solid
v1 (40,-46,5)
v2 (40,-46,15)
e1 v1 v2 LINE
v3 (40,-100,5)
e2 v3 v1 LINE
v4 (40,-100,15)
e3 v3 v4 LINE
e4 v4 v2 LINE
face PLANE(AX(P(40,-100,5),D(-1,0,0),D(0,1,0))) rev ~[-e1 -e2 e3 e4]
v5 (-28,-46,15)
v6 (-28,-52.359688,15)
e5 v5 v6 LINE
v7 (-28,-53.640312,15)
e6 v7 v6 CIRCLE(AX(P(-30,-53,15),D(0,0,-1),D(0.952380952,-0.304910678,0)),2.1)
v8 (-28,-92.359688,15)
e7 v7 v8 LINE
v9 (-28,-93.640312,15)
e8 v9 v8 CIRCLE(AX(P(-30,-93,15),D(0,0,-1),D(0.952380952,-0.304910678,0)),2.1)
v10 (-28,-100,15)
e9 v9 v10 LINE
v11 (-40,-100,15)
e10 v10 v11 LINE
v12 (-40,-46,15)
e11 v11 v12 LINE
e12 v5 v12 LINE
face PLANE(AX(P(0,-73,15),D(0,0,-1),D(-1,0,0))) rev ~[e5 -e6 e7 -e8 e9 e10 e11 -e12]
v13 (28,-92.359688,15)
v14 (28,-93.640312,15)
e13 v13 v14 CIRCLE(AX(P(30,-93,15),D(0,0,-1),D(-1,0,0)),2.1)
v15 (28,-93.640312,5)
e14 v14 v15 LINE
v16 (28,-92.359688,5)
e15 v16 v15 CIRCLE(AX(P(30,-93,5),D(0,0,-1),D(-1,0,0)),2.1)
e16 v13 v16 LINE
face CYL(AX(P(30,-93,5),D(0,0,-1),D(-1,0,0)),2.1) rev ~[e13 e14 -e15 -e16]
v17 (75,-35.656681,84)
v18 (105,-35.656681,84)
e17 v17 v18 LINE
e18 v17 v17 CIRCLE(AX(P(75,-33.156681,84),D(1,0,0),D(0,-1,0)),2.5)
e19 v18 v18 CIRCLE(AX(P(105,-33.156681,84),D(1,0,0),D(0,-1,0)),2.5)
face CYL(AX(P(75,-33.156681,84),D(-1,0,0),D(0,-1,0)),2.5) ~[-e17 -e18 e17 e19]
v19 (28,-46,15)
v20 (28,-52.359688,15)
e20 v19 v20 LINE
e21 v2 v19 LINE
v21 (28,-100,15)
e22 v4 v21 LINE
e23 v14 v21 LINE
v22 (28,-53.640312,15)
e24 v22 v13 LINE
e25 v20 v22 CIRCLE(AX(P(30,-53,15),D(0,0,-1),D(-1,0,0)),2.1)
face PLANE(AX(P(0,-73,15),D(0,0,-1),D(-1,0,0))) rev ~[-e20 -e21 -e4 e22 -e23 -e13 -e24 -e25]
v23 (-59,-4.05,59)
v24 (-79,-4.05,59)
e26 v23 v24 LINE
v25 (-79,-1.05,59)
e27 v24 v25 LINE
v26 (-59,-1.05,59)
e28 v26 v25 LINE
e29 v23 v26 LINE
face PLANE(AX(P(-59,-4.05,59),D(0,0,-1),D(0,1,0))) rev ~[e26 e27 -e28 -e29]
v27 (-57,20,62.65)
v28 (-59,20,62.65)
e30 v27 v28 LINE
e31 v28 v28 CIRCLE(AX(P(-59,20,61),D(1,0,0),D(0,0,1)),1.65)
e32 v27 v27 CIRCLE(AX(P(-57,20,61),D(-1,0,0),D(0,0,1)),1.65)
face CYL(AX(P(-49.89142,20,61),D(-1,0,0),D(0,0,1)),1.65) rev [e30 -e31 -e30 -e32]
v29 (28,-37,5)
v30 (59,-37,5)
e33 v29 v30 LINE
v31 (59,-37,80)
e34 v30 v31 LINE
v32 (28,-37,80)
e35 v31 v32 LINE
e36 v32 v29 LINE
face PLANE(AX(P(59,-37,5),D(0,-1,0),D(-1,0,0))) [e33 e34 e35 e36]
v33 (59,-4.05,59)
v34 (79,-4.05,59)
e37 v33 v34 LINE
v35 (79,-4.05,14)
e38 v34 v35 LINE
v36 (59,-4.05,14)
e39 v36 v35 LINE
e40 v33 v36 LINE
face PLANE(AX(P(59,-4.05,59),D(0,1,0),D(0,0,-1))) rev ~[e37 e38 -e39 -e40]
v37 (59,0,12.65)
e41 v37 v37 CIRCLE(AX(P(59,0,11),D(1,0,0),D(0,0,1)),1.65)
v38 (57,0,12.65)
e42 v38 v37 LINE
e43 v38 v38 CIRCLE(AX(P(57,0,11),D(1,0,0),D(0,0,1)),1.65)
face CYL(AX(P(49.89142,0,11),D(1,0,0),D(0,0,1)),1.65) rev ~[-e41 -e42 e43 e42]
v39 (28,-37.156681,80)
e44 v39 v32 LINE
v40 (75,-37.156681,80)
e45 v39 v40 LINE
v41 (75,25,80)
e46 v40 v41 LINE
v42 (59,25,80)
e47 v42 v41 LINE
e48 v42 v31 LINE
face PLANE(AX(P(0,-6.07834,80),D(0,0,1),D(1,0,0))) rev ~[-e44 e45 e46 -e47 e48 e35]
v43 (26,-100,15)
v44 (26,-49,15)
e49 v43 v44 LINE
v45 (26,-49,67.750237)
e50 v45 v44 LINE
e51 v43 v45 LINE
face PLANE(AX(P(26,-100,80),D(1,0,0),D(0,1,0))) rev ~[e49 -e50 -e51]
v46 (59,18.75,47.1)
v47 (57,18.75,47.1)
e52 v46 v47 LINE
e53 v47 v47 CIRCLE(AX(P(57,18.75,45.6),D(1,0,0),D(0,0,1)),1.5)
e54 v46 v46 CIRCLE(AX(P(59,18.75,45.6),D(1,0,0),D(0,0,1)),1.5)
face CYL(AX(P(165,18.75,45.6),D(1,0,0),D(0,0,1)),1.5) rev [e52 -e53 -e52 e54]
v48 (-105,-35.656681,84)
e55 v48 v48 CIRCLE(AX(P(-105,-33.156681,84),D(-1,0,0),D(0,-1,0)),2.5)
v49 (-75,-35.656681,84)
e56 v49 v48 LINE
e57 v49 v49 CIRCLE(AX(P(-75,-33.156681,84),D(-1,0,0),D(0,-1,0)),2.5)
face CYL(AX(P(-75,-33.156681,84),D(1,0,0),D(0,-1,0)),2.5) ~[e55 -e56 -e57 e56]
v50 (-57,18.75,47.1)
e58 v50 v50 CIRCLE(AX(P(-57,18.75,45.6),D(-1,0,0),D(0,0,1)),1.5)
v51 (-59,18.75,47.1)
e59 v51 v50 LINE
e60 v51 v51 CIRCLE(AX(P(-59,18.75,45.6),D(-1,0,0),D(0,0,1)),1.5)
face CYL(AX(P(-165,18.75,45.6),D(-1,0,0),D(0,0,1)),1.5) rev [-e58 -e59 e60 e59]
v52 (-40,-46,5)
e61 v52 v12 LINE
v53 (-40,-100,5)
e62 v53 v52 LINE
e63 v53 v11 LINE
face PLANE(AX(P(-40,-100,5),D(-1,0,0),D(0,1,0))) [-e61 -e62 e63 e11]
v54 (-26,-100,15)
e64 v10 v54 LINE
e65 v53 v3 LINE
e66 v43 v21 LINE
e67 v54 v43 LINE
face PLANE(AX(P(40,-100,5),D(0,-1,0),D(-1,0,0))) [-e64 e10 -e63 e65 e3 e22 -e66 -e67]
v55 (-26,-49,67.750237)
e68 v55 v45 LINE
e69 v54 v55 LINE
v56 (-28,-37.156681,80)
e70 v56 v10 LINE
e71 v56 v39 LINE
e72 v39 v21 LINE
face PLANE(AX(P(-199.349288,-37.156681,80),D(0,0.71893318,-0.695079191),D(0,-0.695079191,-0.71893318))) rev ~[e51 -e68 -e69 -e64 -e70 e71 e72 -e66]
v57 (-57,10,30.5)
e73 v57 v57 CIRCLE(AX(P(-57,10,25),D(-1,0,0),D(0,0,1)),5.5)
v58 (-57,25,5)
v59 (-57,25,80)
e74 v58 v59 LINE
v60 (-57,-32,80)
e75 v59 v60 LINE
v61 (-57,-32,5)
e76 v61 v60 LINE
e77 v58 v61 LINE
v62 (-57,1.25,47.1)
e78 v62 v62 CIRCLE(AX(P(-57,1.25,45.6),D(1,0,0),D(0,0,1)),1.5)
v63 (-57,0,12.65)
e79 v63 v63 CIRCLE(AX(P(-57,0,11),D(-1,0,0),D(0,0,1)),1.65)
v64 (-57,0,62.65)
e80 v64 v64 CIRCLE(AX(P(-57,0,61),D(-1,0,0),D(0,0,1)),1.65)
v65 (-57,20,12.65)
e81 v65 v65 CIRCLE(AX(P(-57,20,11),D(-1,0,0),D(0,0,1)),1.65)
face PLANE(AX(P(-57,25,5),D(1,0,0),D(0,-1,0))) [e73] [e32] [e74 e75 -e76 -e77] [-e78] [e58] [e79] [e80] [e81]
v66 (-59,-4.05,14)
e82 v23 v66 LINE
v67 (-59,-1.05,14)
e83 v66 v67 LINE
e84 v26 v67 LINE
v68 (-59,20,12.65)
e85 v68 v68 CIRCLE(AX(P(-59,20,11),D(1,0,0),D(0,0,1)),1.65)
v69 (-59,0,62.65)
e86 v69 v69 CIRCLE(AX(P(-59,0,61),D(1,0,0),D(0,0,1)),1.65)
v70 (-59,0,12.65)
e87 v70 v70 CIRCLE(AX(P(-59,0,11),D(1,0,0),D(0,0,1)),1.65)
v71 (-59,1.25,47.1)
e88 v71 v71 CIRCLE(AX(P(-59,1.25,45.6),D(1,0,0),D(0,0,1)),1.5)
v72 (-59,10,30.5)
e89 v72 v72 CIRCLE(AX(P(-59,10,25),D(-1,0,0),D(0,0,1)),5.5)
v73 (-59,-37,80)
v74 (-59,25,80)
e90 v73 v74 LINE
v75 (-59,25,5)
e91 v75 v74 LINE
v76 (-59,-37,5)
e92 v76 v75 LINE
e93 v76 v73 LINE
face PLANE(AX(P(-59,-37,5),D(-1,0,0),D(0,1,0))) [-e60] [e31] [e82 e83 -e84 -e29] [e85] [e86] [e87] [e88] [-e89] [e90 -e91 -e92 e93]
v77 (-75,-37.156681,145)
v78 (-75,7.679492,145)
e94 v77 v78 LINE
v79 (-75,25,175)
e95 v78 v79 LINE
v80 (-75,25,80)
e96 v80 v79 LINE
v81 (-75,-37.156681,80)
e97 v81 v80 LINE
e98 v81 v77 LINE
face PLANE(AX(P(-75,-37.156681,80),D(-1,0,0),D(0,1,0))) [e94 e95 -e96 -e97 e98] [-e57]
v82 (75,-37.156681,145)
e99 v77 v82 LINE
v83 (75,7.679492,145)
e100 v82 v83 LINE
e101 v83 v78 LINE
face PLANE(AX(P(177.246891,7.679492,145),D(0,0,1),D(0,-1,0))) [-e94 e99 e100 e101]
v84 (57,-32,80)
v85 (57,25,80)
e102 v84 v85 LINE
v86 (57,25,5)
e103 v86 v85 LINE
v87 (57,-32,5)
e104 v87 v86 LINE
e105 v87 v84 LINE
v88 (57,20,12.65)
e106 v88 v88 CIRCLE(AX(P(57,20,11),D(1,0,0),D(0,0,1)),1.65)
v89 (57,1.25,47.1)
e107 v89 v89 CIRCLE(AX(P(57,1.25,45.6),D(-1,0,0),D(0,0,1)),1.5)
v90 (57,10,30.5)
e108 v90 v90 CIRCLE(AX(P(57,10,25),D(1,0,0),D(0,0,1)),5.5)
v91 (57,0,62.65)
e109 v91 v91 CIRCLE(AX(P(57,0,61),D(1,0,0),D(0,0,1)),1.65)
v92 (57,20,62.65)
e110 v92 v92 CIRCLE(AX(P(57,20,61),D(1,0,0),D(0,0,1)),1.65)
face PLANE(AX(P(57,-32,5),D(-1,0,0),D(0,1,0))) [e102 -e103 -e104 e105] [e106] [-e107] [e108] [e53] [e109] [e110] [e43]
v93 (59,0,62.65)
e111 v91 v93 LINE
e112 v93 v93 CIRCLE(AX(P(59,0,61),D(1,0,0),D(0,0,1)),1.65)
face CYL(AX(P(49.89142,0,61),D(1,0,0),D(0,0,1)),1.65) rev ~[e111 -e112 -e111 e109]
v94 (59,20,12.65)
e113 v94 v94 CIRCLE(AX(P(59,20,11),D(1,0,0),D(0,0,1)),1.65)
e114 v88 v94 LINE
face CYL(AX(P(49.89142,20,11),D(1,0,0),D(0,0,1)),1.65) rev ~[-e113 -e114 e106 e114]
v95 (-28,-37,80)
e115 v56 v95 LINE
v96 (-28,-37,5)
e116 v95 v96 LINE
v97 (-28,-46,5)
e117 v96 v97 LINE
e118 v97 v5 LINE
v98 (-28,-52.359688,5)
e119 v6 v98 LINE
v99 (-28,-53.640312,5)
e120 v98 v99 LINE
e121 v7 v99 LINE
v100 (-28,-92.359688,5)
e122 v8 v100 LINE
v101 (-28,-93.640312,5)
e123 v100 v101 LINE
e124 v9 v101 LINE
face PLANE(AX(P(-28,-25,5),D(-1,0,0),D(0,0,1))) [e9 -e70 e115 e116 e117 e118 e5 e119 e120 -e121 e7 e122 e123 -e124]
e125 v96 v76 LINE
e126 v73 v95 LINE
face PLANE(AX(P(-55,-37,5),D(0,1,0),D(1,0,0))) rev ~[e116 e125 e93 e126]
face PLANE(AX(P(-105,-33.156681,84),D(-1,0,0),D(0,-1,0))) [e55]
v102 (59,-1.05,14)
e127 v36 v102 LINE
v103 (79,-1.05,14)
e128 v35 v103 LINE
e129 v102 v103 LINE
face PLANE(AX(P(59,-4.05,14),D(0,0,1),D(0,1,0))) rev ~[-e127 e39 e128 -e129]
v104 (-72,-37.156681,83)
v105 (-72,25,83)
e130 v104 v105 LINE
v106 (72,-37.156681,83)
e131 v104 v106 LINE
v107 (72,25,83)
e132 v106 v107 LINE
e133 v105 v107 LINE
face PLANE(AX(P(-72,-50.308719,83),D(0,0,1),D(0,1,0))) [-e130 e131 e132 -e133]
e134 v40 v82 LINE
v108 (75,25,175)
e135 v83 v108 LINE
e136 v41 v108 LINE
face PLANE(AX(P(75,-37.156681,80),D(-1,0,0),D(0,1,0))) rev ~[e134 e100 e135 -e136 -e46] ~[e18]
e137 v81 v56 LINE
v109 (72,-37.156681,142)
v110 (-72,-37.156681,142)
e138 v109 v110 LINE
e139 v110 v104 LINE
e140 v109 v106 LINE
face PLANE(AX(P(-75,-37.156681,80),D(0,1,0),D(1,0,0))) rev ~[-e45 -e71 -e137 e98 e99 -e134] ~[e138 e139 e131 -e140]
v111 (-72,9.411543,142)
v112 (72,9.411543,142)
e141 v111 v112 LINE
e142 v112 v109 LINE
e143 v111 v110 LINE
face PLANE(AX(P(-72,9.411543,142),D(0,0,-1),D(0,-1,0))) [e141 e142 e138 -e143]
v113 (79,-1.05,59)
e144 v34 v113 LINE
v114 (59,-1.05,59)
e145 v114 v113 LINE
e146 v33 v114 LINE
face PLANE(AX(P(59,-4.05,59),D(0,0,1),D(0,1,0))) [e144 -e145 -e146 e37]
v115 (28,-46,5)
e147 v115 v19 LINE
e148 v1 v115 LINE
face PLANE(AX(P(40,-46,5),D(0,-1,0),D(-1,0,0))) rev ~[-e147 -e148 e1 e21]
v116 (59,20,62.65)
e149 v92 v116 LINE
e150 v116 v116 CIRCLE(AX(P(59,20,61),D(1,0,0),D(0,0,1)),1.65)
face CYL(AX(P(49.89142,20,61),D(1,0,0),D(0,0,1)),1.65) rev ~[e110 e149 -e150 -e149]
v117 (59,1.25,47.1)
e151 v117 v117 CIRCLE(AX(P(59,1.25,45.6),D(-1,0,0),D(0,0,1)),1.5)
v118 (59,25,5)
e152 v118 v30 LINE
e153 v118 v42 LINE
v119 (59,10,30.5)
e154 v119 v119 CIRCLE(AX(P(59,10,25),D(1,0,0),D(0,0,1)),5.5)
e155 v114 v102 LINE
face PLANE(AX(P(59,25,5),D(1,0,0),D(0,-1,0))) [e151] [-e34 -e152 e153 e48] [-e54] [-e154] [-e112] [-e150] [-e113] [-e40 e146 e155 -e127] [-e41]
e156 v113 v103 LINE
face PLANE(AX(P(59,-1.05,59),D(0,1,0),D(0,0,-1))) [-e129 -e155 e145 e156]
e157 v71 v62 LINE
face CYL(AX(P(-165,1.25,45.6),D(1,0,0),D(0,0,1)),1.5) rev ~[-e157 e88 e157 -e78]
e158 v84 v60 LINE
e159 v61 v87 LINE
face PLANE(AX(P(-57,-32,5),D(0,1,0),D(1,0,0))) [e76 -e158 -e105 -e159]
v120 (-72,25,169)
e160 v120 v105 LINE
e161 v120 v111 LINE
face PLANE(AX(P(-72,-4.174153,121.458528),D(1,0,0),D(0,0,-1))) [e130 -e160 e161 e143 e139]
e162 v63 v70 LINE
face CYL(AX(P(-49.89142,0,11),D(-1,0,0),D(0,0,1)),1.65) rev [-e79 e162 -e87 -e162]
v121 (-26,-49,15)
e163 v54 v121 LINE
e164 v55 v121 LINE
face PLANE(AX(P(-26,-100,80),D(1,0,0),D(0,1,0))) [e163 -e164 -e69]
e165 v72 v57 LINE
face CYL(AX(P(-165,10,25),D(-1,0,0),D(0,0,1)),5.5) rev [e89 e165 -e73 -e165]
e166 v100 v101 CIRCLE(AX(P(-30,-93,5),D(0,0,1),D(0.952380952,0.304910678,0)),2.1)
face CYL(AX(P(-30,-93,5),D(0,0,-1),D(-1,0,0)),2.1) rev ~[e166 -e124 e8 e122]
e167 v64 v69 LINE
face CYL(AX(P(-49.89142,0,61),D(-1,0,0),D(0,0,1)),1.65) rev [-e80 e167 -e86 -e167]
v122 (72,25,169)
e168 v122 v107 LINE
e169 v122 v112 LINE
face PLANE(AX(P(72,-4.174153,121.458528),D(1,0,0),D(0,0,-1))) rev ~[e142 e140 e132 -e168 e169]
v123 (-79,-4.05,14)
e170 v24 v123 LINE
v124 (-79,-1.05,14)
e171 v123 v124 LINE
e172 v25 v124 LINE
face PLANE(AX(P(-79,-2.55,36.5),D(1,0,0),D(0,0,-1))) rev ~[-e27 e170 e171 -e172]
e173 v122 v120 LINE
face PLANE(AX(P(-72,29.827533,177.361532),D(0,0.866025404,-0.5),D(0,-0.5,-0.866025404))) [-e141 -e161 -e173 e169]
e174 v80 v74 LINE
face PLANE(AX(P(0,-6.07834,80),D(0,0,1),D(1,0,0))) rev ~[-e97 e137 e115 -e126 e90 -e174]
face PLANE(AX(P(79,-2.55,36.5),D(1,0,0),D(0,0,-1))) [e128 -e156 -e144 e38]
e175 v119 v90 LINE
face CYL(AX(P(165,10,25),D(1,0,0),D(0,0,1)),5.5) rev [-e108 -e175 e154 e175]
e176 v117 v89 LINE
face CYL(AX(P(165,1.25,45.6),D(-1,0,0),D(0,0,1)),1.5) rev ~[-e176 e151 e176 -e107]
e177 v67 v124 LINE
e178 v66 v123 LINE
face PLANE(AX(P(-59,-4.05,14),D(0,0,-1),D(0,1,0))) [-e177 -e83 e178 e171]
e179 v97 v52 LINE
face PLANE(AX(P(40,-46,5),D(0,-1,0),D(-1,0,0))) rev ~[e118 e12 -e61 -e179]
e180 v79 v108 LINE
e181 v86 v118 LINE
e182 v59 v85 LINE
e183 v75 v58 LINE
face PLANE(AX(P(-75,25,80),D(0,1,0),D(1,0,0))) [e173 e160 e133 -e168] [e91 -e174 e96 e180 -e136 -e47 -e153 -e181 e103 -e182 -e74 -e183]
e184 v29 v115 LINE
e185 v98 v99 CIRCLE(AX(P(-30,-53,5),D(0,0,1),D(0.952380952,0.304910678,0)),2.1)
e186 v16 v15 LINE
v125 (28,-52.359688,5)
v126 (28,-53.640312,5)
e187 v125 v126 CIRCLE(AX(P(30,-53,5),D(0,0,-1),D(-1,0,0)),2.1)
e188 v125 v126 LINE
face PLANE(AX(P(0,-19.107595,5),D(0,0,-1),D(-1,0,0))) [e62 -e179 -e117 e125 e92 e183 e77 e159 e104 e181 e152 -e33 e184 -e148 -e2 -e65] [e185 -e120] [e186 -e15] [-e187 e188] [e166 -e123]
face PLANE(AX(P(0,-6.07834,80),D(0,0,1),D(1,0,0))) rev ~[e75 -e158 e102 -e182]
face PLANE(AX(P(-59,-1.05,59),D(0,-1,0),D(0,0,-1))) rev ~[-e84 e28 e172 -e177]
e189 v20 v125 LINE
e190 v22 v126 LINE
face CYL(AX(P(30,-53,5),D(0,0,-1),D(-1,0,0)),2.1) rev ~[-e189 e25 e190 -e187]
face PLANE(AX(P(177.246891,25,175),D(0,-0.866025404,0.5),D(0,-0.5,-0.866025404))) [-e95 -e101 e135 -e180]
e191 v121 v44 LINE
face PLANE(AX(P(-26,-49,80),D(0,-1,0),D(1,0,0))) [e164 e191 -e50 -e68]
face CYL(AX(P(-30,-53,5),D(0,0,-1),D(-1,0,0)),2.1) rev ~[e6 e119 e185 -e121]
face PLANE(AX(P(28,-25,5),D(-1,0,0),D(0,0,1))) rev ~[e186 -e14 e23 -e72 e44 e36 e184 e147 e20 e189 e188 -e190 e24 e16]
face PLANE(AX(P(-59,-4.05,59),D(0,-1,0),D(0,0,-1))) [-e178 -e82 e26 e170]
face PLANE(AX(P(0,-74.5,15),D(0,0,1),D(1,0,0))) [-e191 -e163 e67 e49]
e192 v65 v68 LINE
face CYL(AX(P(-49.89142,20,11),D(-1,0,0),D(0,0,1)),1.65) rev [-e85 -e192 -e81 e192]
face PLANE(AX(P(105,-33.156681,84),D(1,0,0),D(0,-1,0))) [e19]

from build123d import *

# Parameters (mm, degrees)
SKETCH_1_W                   = 80
SKETCH_1_H                   = 50
EXTRUDE_1_DEPTH              = 5
HOLE_WIZARD_M5_1_D           = 4.2
HOLE_WIZARD_M5_1_DEPTH       = 11.1381927
HOLE_WIZARD_M5_1_TIP         = 1.2618073
EXTRUDE_START                = -12
SKETCH_5_W                   = 80
SKETCH_5_H                   = 50
EXTRUDE_2_DEPTH              = 2
HOLE_WIZARD_M4_1_AT_2_COUNT  = 2
HOLE_WIZARD_M4_1_AT_2_PITCH  = 20
HOLE_WIZARD_M4_1_AT_3_COUNT  = 2
HOLE_WIZARD_M4_1_AT_3_PITCH  = 50
HOLE_WIZARD_M4_1_AT_4_COUNT  = 2
HOLE_WIZARD_M4_1_AT_4_PITCH  = 53.851648071
SKETCH_11_R                  = 5.5
SKETCH_11_R_2                = 1.5
CUT_EXTRUDE_1_DEPTH          = 107.681769764
CUT_EXTRUDE_2_DEPTH          = 103.46950766
CUT_EXTRUDE_2_DEPTH_BACK     = 103.46950766
SKETCH_13_3_W                = 52
SKETCH_13_3_H                = 75
SKETCH_13_3_W_2              = 2
EXTRUDE_4_DEPTH              = 75
SKETCH_16_W                  = 80
SKETCH_16_H                  = 54
SKETCH_16_R                  = 2.1
EXTRUDE_5_DEPTH              = 10
SKETCH_17_W                  = 52
SKETCH_17_H                  = 51
CUT_EXTRUDE_4_DEPTH          = 65
SKETCH_18_W                  = 26
SKETCH_18_H                  = 5
SKETCH_18_W_2                = 2
EXTRUDE_6_DEPTH              = 75
SKETCH_19_R                  = 5.5
SKETCH_19_R_2                = 1.5
CUT_EXTRUDE_5_DEPTH          = 163.480768093
CUT_EXTRUDE_6_DEPTH          = 135.629120178
CUT_EXTRUDE_6_DEPTH_BACK     = 135.629120178
EXTRUDE_7_DEPTH              = 75
CUT_EXTRUDE_7_DEPTH          = 137.565002837
CUT_EXTRUDE_7_DEPTH_BACK     = 137.565002837
SKETCH_24_W                  = 102.975778391
SKETCH_24_H                  = 48.456033791
EXTRUDE_8_DEPTH              = 75
CUT_EXTRUDE_8_DEPTH          = 137.565002837
CUT_EXTRUDE_8_DEPTH_BACK     = 137.565002837
EXTRUDE_9_DEPTH              = 75
MIRROR_20_COPY_1_SKETCH_R    = 5.5
MIRROR_20_COPY_1_SKETCH_R_2  = 1.5
MIRROR_20_COPY_1_DEPTH       = 163.480768093
MIRROR_20_COPY_2_SKETCH_R    = 5.5
MIRROR_20_COPY_2_SKETCH_R_2  = 1.5
MIRROR_20_COPY_2_DEPTH       = 163.480768093
MIRROR_22_COPY_1_SKETCH_R    = 5.5
MIRROR_22_COPY_1_SKETCH_R_2  = 1.5
MIRROR_22_COPY_1_DEPTH       = 163.480768093
MIRROR_22_COPY_2_SKETCH_R    = 5.5
MIRROR_22_COPY_2_SKETCH_R_2  = 1.5
MIRROR_22_COPY_2_DEPTH       = 163.480768093
MIRROR_22_COPY_15_SKETCH_R   = 5.5
MIRROR_22_COPY_15_SKETCH_R_2 = 1.5
MIRROR_22_COPY_15_DEPTH      = 163.480768093
SKETCH_28_W                  = 112
SKETCH_28_H                  = 59.65855823
CUT_EXTRUDE_9_DEPTH          = 100
SKETCH_29_W                  = 150
SKETCH_29_H                  = 62.156680644
EXTRUDE_10_DEPTH             = 95
CUT_EXTRUDE_10_DEPTH         = 252.246890528
CUT_EXTRUDE_10_DEPTH_BACK    = 252.246890528
CUT_EXTRUDE_START            = -3
CUT_EXTRUDE_11_DEPTH         = 144
CUT_EXTRUDE_12_DEPTH         = 227.349287607
CUT_EXTRUDE_12_DEPTH_BACK    = 227.349287607
SKETCH_34_W                  = 45
SKETCH_34_H                  = 3
EXTRUDE_11_DEPTH             = 20
EXTRUDE_START_2              = -118
SKETCH_34_3_W                = 45
SKETCH_34_3_H                = 3
EXTRUDE_12_DEPTH             = 20
SKETCH_35_R                  = 2.5
EXTRUDE_13_DEPTH             = 30
SKETCH_36_R                  = 2.5
EXTRUDE_14_DEPTH             = 30


with BuildPart() as part:
    # 草图1 → 凸台-拉伸1 (new body)
    with BuildSketch(Plane.XY):
        Rectangle(SKETCH_1_W, SKETCH_1_H)
    extrude(amount=EXTRUDE_1_DEPTH)

    # M5 螺纹孔1
    with Locations(Plane.XY.offset(5)):
        with Locations((-30, 20), (-30, -20), (30, -20), (30, 20)):
            Hole(HOLE_WIZARD_M5_1_D / 2, depth=HOLE_WIZARD_M5_1_DEPTH)
            with Locations((0, 0, -(HOLE_WIZARD_M5_1_DEPTH + HOLE_WIZARD_M5_1_TIP / 2))):  # 118° drill point
                Cone(0, HOLE_WIZARD_M5_1_D / 2, HOLE_WIZARD_M5_1_TIP, mode=Mode.SUBTRACT)

    # 草图5 → 凸台-拉伸2 (add)
    with BuildSketch(Plane(origin=(40, 0, 0), x_dir=(0, 0, -1), z_dir=(1, 0, 0)).offset(EXTRUDE_START)):
        with Locations((-40, 0)):
            Rectangle(SKETCH_5_W, SKETCH_5_H)
    extrude_2 = extrude(amount=-EXTRUDE_2_DEPTH)

    # 草图8 → M4 螺纹孔1 (revolve, cut)
    with BuildSketch(Plane(origin=(26, 20, 11), x_dir=(0, 0, 1), z_dir=(0, 1, 0))):
        Polygon((0, 0), (0, 10.1), (1.65, 9.108579979), (1.65, 0), align=None)
    hole_wizard_m4_1 = revolve(axis=Axis((19.65, 20, 11), (1, 0, 0)), mode=Mode.SUBTRACT)

    # M4 螺纹孔1 at 2: M4 螺纹孔1 ×2
    with Locations(*[(0, -i * HOLE_WIZARD_M4_1_AT_2_PITCH, 0) for i in range(1, HOLE_WIZARD_M4_1_AT_2_COUNT)]):
        add(hole_wizard_m4_1, mode=Mode.SUBTRACT)

    # M4 螺纹孔1 at 3: M4 螺纹孔1 ×2
    with Locations(*[(0, 0, i * HOLE_WIZARD_M4_1_AT_3_PITCH) for i in range(1, HOLE_WIZARD_M4_1_AT_3_COUNT)]):
        add(hole_wizard_m4_1, mode=Mode.SUBTRACT)

    # M4 螺纹孔1 at 4: M4 螺纹孔1 ×2
    with Locations(*[Vector(0, -0.3713906763541037, 0.9284766908852594) * (i * HOLE_WIZARD_M4_1_AT_4_PITCH) for i in range(1, HOLE_WIZARD_M4_1_AT_4_COUNT)]):
        add(hole_wizard_m4_1, mode=Mode.SUBTRACT)

    # 草图11 → 切除-拉伸1 (cut, through all)
    with BuildSketch(Plane.ZY.offset(-26)):
        with Locations((25, 10)):
            Circle(SKETCH_11_R)
        with Locations((45.6, 18.75)):
            Circle(SKETCH_11_R_2)
        with Locations((45.6, 1.25)):
            Circle(SKETCH_11_R_2)
    cut_extrude_1 = extrude(amount=-CUT_EXTRUDE_1_DEPTH, mode=Mode.SUBTRACT)

    # 镜向1: 凸台-拉伸2 across plane
    add(extrude_2.mirror(Plane(origin=(0, 0, 0), x_dir=(0, 0, 1), z_dir=(1, 0, 0))))

    # 镜向2: M4 螺纹孔1, 切除-拉伸1 across plane
    add(hole_wizard_m4_1.mirror(Plane(origin=(0, 0, 0), x_dir=(0, 0, 1), z_dir=(1, 0, 0))), mode=Mode.SUBTRACT)
    add(cut_extrude_1.mirror(Plane(origin=(0, 0, 0), x_dir=(0, 0, 1), z_dir=(1, 0, 0))), mode=Mode.SUBTRACT)

    # 镜向2 copy 1 sketch → 镜向2 copy 1 (revolve, cut)
    with BuildSketch(Plane(origin=(-26, 0, 11), x_dir=(0, 0, 1), z_dir=(0, 1, 0))):
        Polygon((0, 0), (0, -10.1), (1.65, -9.108579979), (1.65, 0), align=None)
    revolve(axis=Axis((-19.65, 0, 11), (1, 0, 0)), mode=Mode.SUBTRACT)

    # 镜向2 copy 2 sketch → 镜向2 copy 2 (revolve, cut)
    with BuildSketch(Plane(origin=(-26, 20, 61), x_dir=(0, 0, 1), z_dir=(0, 1, 0))):
        Polygon((0, 0), (0, -10.1), (1.65, -9.108579979), (1.65, 0), align=None)
    revolve(axis=Axis((-19.65, 20, 61), (1, 0, 0)), mode=Mode.SUBTRACT)

    # 镜向2 copy 3 sketch → 镜向2 copy 3 (revolve, cut)
    with BuildSketch(Plane(origin=(-26, 0, 61), x_dir=(0, 0, 1), z_dir=(0, 1, 0))):
        Polygon((0, 0), (0, -10.1), (1.65, -9.108579979), (1.65, 0), align=None)
    revolve(axis=Axis((-19.65, 0, 61), (1, 0, 0)), mode=Mode.SUBTRACT)

    # 草图13 → 切除-拉伸2 (cut, two sides: drawn at the far end of the back side and taken through both)
    with BuildSketch(Plane.XZ.offset(25).offset(-CUT_EXTRUDE_2_DEPTH_BACK)):
        Polygon((-26, 5), (-28, 5), (-40, 5), (-40, 0), (40, 0), (40, 5), (28, 5), (26, 5), align=None)
        Polygon((41.874754077, 5), (40, 5), (40, 0), (-40, 0), (-40, -4.933719331), (41.874754077, -4.933719331), align=None)
    extrude(amount=CUT_EXTRUDE_2_DEPTH + CUT_EXTRUDE_2_DEPTH_BACK, mode=Mode.SUBTRACT)


with BuildPart() as cut_extrude_2_piece_1:
    # of the separate pieces the step leaves, piece 1, a body of its own (cut_extrude_2_pieces)
    add(part.part.solids().sort_by_distance((28, -25, 5))[0])



with BuildPart() as cut_extrude_2_piece_2:
    # of the separate pieces the step leaves, piece 2, a body of its own (cut_extrude_2_pieces)
    add(part.part.solids().sort_by_distance((-26, -25, 5))[0])


with BuildPart() as cut_extrude_2_piece_1_1:
    add(cut_extrude_2_piece_1.part)

    add(cut_extrude_2_piece_2.part)  # 凸台-拉伸4 merges 切除-拉伸2 piece 2
    # 草图13<3> → 凸台-拉伸4 (add)
    with BuildSketch(Plane.XZ.offset(25)):
        with Locations((0, 42.5)):
            Rectangle(SKETCH_13_3_W, SKETCH_13_3_H)
        with Locations((-27, 42.5)):
            Rectangle(SKETCH_13_3_W_2, SKETCH_13_3_H)
        with Locations((27, 42.5)):
            Rectangle(SKETCH_13_3_W_2, SKETCH_13_3_H)
    extrude(amount=EXTRUDE_4_DEPTH)

    # 草图16 → 凸台-拉伸5 (add)
    with BuildSketch(Plane(origin=(0, 0, 5), x_dir=(-1, 0, 0), z_dir=(0, 0, -1))):
        with Locations((0, -73)):
            Rectangle(SKETCH_16_W, SKETCH_16_H)
        with Locations((-30, -93)):
            Circle(SKETCH_16_R, mode=Mode.SUBTRACT)
        with Locations((30, -93)):
            Circle(SKETCH_16_R, mode=Mode.SUBTRACT)
        with Locations((-30, -53)):
            Circle(SKETCH_16_R, mode=Mode.SUBTRACT)
        with Locations((30, -53)):
            Circle(SKETCH_16_R, mode=Mode.SUBTRACT)
    extrude(amount=-EXTRUDE_5_DEPTH)

    # 草图17 → 切除-拉伸4 (cut)
    with BuildSketch(Plane.XY.offset(80)):
        with Locations((0, -74.5)):
            Rectangle(SKETCH_17_W, SKETCH_17_H)
    extrude(amount=-CUT_EXTRUDE_4_DEPTH, mode=Mode.SUBTRACT)

    # 草图18 → 凸台-拉伸6 (add)
    with BuildSketch(Plane.XY.offset(80)):
        Polygon((-28, -25), (-28, -20), (-48, -20), (-48, 25), (-50, 25), (-50, -25), align=None)
        with Locations((-13, -22.5)):
            Rectangle(SKETCH_18_W, SKETCH_18_H)
        with Locations((-27, -22.5)):
            Rectangle(SKETCH_18_W_2, SKETCH_18_H)
        with Locations((13, -22.5)):
            Rectangle(SKETCH_18_W, SKETCH_18_H)
        with Locations((27, -22.5)):
            Rectangle(SKETCH_18_W_2, SKETCH_18_H)
        Polygon((48, -20), (28, -20), (28, -25), (50, -25), (50, 25), (48, 25), align=None)
    extrude(amount=-EXTRUDE_6_DEPTH)

    # 草图19 → 切除-拉伸5 (cut, symmetric)
    with BuildSketch(Plane.ZY.offset(50)):
        with Locations((25, 10)):
            Circle(SKETCH_19_R)
        with Locations((45.6, 18.75)):
            Circle(SKETCH_19_R_2)
        with Locations((45.6, 1.25)):
            Circle(SKETCH_19_R_2)
    cut_extrude_5 = extrude(amount=CUT_EXTRUDE_5_DEPTH, both=True, mode=Mode.SUBTRACT)

    # 镜向3: M4 螺纹孔1 across plane
    add(hole_wizard_m4_1.mirror(Plane.ZY.offset(11)), mode=Mode.SUBTRACT)

    # 镜向3 copy 1 sketch → 镜向3 copy 1 (revolve, cut)
    with BuildSketch(Plane(origin=(-48, 0, 11), x_dir=(0, 0, 1), z_dir=(0, 1, 0))):
        Polygon((0, 0), (0, -10.1), (1.65, -9.108579979), (1.65, 0), align=None)
    revolve(axis=Axis((-41.65, 0, 11), (1, 0, 0)), mode=Mode.SUBTRACT)

    # 镜向3 copy 2 sketch → 镜向3 copy 2 (revolve, cut)
    with BuildSketch(Plane(origin=(-48, 20, 61), x_dir=(0, 0, 1), z_dir=(0, 1, 0))):
        Polygon((0, 0), (0, -10.1), (1.65, -9.108579979), (1.65, 0), align=None)
    revolve(axis=Axis((-41.65, 20, 61), (1, 0, 0)), mode=Mode.SUBTRACT)

    # 镜向3 copy 3 sketch → 镜向3 copy 3 (revolve, cut)
    with BuildSketch(Plane(origin=(-48, 0, 61), x_dir=(0, 0, 1), z_dir=(0, 1, 0))):
        Polygon((0, 0), (0, -10.1), (1.65, -9.108579979), (1.65, 0), align=None)
    revolve(axis=Axis((-41.65, 0, 61), (1, 0, 0)), mode=Mode.SUBTRACT)

    # 镜向4: M4 螺纹孔1 across plane
    add(hole_wizard_m4_1.mirror(Plane(origin=(38, 0, 0), x_dir=(0, 0, 1), z_dir=(1, 0, 0))), mode=Mode.SUBTRACT)

    # 镜向4 copy 1 sketch → 镜向4 copy 1 (revolve, cut)
    with BuildSketch(Plane(origin=(50, 0, 11), x_dir=(0, 0, 1), z_dir=(0, 1, 0))):
        Polygon((0, 0), (0, -10.1), (1.65, -9.108579979), (1.65, 0), align=None)
    revolve(axis=Axis((56.35, 0, 11), (1, 0, 0)), mode=Mode.SUBTRACT)

    # 镜向4 copy 2 sketch → 镜向4 copy 2 (revolve, cut)
    with BuildSketch(Plane(origin=(50, 20, 61), x_dir=(0, 0, 1), z_dir=(0, 1, 0))):
        Polygon((0, 0), (0, -10.1), (1.65, -9.108579979), (1.65, 0), align=None)
    revolve(axis=Axis((56.35, 20, 61), (1, 0, 0)), mode=Mode.SUBTRACT)

    # 镜向4 copy 3 sketch → 镜向4 copy 3 (revolve, cut)
    with BuildSketch(Plane(origin=(50, 0, 61), x_dir=(0, 0, 1), z_dir=(0, 1, 0))):
        Polygon((0, 0), (0, -10.1), (1.65, -9.108579979), (1.65, 0), align=None)
    revolve(axis=Axis((56.35, 0, 61), (1, 0, 0)), mode=Mode.SUBTRACT)

    # 草图21 → 切除-拉伸6 (cut, two sides: drawn at the far end of the back side and taken through both)
    with BuildSketch(Plane.XY.offset(80).offset(-CUT_EXTRUDE_6_DEPTH_BACK)):
        Polygon((-31.758611736, 26.765489653), (-31.758611736, -20), (32.437571978, -20), (32.437571978, 28.405937278), align=None)
    extrude(amount=CUT_EXTRUDE_6_DEPTH + CUT_EXTRUDE_6_DEPTH_BACK, mode=Mode.SUBTRACT)

    # 草图22 → 凸台-拉伸7 (add)
    with BuildSketch(Plane.XY.offset(80)):
        Polygon((-53, 25), (-55, 25), (-55, -25), (-50, -25), (-50, -20), (-53, -20), align=None)
        Polygon((55, 25), (53, 25), (53, -20), (50, -20), (50, -25), (55, -25), align=None)
        Polygon((-50, -20), (-50, -25), (-28, -25), (28, -25), (50, -25), (50, -20), (48, -20), (0, -20), (-48, -20), align=None)
    extrude(amount=-EXTRUDE_7_DEPTH)

    # 镜向8: 切除-拉伸5 across plane
    add(cut_extrude_5.mirror(Plane(origin=(-51.5, 0, 0), x_dir=(0, 0, 1), z_dir=(1, 0, 0))), mode=Mode.SUBTRACT)

    # 镜向16 copy 1 sketch → 镜向16 copy 1 (revolve, cut)
    with BuildSketch(Plane(origin=(53, 20, 11), x_dir=(0, 0, 1), z_dir=(0, 1, 0))):
        Polygon((0, 0), (0, 10.1), (1.65, 9.108579979), (1.65, 0), align=None)
    revolve(axis=Axis((46.65, 20, 11), (1, 0, 0)), mode=Mode.SUBTRACT)

    # 镜向16 copy 2 sketch → 镜向16 copy 2 (revolve, cut)
    with BuildSketch(Plane(origin=(53, 0, 11), x_dir=(0, 0, 1), z_dir=(0, 1, 0))):
        Polygon((0, 0), (0, 10.1), (1.65, 9.108579979), (1.65, 0), align=None)
    revolve(axis=Axis((46.65, 0, 11), (1, 0, 0)), mode=Mode.SUBTRACT)

    # 镜向16 copy 3 sketch → 镜向16 copy 3 (revolve, cut)
    with BuildSketch(Plane(origin=(53, 20, 61), x_dir=(0, 0, 1), z_dir=(0, 1, 0))):
        Polygon((0, 0), (0, 10.1), (1.65, 9.108579979), (1.65, 0), align=None)
    revolve(axis=Axis((46.65, 20, 61), (1, 0, 0)), mode=Mode.SUBTRACT)

    # 镜向16 copy 4 sketch → 镜向16 copy 4 (revolve, cut)
    with BuildSketch(Plane(origin=(53, 0, 61), x_dir=(0, 0, 1), z_dir=(0, 1, 0))):
        Polygon((0, 0), (0, 10.1), (1.65, 9.108579979), (1.65, 0), align=None)
    revolve(axis=Axis((46.65, 0, 61), (1, 0, 0)), mode=Mode.SUBTRACT)

    # 镜向16 copy 5 sketch → 镜向16 copy 5 (revolve, cut)
    with BuildSketch(Plane(origin=(-21, 20, 11), x_dir=(0, 0, 1), z_dir=(0, 1, 0))):
        Polygon((0, 0), (0, -10.1), (1.65, -9.108579979), (1.65, 0), align=None)
    revolve(axis=Axis((-14.65, 20, 11), (1, 0, 0)), mode=Mode.SUBTRACT)

    # 镜向16 copy 6 sketch → 镜向16 copy 6 (revolve, cut)
    with BuildSketch(Plane(origin=(-21, 0, 11), x_dir=(0, 0, 1), z_dir=(0, 1, 0))):
        Polygon((0, 0), (0, -10.1), (1.65, -9.108579979), (1.65, 0), align=None)
    revolve(axis=Axis((-14.65, 0, 11), (1, 0, 0)), mode=Mode.SUBTRACT)

    # 镜向16 copy 7 sketch → 镜向16 copy 7 (revolve, cut)
    with BuildSketch(Plane(origin=(-21, 20, 61), x_dir=(0, 0, 1), z_dir=(0, 1, 0))):
        Polygon((0, 0), (0, -10.1), (1.65, -9.108579979), (1.65, 0), align=None)
    revolve(axis=Axis((-14.65, 20, 61), (1, 0, 0)), mode=Mode.SUBTRACT)

    # 镜向16 copy 8 sketch → 镜向16 copy 8 (revolve, cut)
    with BuildSketch(Plane(origin=(-21, 0, 61), x_dir=(0, 0, 1), z_dir=(0, 1, 0))):
        Polygon((0, 0), (0, -10.1), (1.65, -9.108579979), (1.65, 0), align=None)
    revolve(axis=Axis((-14.65, 0, 61), (1, 0, 0)), mode=Mode.SUBTRACT)

    # 镜向18 copy 1 sketch → 镜向18 copy 1 (revolve, cut)
    with BuildSketch(Plane(origin=(-53, 20, 11), x_dir=(0, 0, 1), z_dir=(0, 1, 0))):
        Polygon((0, 0), (0, -10.1), (1.65, -9.108579979), (1.65, 0), align=None)
    revolve(axis=Axis((-46.65, 20, 11), (1, 0, 0)), mode=Mode.SUBTRACT)

    # 镜向18 copy 2 sketch → 镜向18 copy 2 (revolve, cut)
    with BuildSketch(Plane(origin=(-53, 0, 11), x_dir=(0, 0, 1), z_dir=(0, 1, 0))):
        Polygon((0, 0), (0, -10.1), (1.65, -9.108579979), (1.65, 0), align=None)
    revolve(axis=Axis((-46.65, 0, 11), (1, 0, 0)), mode=Mode.SUBTRACT)

    # 镜向18 copy 3 sketch → 镜向18 copy 3 (revolve, cut)
    with BuildSketch(Plane(origin=(-53, 20, 61), x_dir=(0, 0, 1), z_dir=(0, 1, 0))):
        Polygon((0, 0), (0, -10.1), (1.65, -9.108579979), (1.65, 0), align=None)
    revolve(axis=Axis((-46.65, 20, 61), (1, 0, 0)), mode=Mode.SUBTRACT)

    # 镜向18 copy 4 sketch → 镜向18 copy 4 (revolve, cut)
    with BuildSketch(Plane(origin=(-53, 0, 61), x_dir=(0, 0, 1), z_dir=(0, 1, 0))):
        Polygon((0, 0), (0, -10.1), (1.65, -9.108579979), (1.65, 0), align=None)
    revolve(axis=Axis((-46.65, 0, 61), (1, 0, 0)), mode=Mode.SUBTRACT)

    # 镜向18 copy 5 sketch → 镜向18 copy 5 (revolve, cut)
    with BuildSketch(Plane(origin=(21, 20, 11), x_dir=(0, 0, 1), z_dir=(0, 1, 0))):
        Polygon((0, 0), (0, 10.1), (1.65, 9.108579979), (1.65, 0), align=None)
    revolve(axis=Axis((14.65, 20, 11), (1, 0, 0)), mode=Mode.SUBTRACT)

    # 镜向18 copy 6 sketch → 镜向18 copy 6 (revolve, cut)
    with BuildSketch(Plane(origin=(21, 0, 11), x_dir=(0, 0, 1), z_dir=(0, 1, 0))):
        Polygon((0, 0), (0, 10.1), (1.65, 9.108579979), (1.65, 0), align=None)
    revolve(axis=Axis((14.65, 0, 11), (1, 0, 0)), mode=Mode.SUBTRACT)

    # 镜向18 copy 7 sketch → 镜向18 copy 7 (revolve, cut)
    with BuildSketch(Plane(origin=(21, 20, 61), x_dir=(0, 0, 1), z_dir=(0, 1, 0))):
        Polygon((0, 0), (0, 10.1), (1.65, 9.108579979), (1.65, 0), align=None)
    revolve(axis=Axis((14.65, 20, 61), (1, 0, 0)), mode=Mode.SUBTRACT)

    # 镜向18 copy 8 sketch → 镜向18 copy 8 (revolve, cut)
    with BuildSketch(Plane(origin=(21, 0, 61), x_dir=(0, 0, 1), z_dir=(0, 1, 0))):
        Polygon((0, 0), (0, 10.1), (1.65, 9.108579979), (1.65, 0), align=None)
    revolve(axis=Axis((14.65, 0, 61), (1, 0, 0)), mode=Mode.SUBTRACT)

    # 镜向18 copy 9 sketch → 镜向18 copy 9 (revolve, cut)
    with BuildSketch(Plane(origin=(-26, 20, 11), x_dir=(0, 0, 1), z_dir=(0, 1, 0))):
        Polygon((0, 0), (0, -10.1), (1.65, -9.108579979), (1.65, 0), align=None)
    revolve(axis=Axis((-19.65, 20, 11), (1, 0, 0)), mode=Mode.SUBTRACT)

    # 镜向18 copy 10 sketch → 镜向18 copy 10 (revolve, cut)
    with BuildSketch(Plane(origin=(-26, 0, 11), x_dir=(0, 0, 1), z_dir=(0, 1, 0))):
        Polygon((0, 0), (0, -10.1), (1.65, -9.108579979), (1.65, 0), align=None)
    revolve(axis=Axis((-19.65, 0, 11), (1, 0, 0)), mode=Mode.SUBTRACT)

    # 镜向18 copy 11 sketch → 镜向18 copy 11 (revolve, cut)
    with BuildSketch(Plane(origin=(-26, 20, 61), x_dir=(0, 0, 1), z_dir=(0, 1, 0))):
        Polygon((0, 0), (0, -10.1), (1.65, -9.108579979), (1.65, 0), align=None)
    revolve(axis=Axis((-19.65, 20, 61), (1, 0, 0)), mode=Mode.SUBTRACT)

    # 镜向18 copy 12 sketch → 镜向18 copy 12 (revolve, cut)
    with BuildSketch(Plane(origin=(-26, 0, 61), x_dir=(0, 0, 1), z_dir=(0, 1, 0))):
        Polygon((0, 0), (0, -10.1), (1.65, -9.108579979), (1.65, 0), align=None)
    revolve(axis=Axis((-19.65, 0, 61), (1, 0, 0)), mode=Mode.SUBTRACT)

    # 草图24 → 切除-拉伸7 (cut, two sides: drawn at the far end of the back side and taken through both)
    with BuildSketch(Plane(origin=(0, 0, 5), x_dir=(-1, 0, 0), z_dir=(0, 0, -1)).offset(-CUT_EXTRUDE_7_DEPTH_BACK)):
        with Locations((0.012110804, 4.228016896)):
            Rectangle(SKETCH_24_W, SKETCH_24_H)
    extrude(amount=CUT_EXTRUDE_7_DEPTH + CUT_EXTRUDE_7_DEPTH_BACK, mode=Mode.SUBTRACT)

    # 草图25 → 凸台-拉伸8 (add)
    with BuildSketch(Plane(origin=(0, 0, 5), x_dir=(-1, 0, 0), z_dir=(0, 0, -1))):
        Polygon((-53, -25), (-53, -32), (53, -32), (53, -25), (55, -25), (55, -37), (-55, -37), (-55, -25), align=None)
    extrude(amount=-EXTRUDE_8_DEPTH)

    # 草图26 → 切除-拉伸8 (cut, two sides: drawn at the far end of the back side and taken through both)
    with BuildSketch(Plane(origin=(0, 0, 5), x_dir=(-1, 0, 0), z_dir=(0, 0, -1)).offset(-CUT_EXTRUDE_8_DEPTH_BACK)):
        Polygon((-53, -20), (-53, -32), (53, -32), (53, -15.706954255), (-53, -15.706954255), align=None)
    extrude(amount=CUT_EXTRUDE_8_DEPTH + CUT_EXTRUDE_8_DEPTH_BACK, mode=Mode.SUBTRACT)

    # 草图27 → 凸台-拉伸9 (add)
    with BuildSketch(Plane(origin=(0, 0, 5), x_dir=(-1, 0, 0), z_dir=(0, 0, -1))):
        Polygon((-59, 25), (-59, -37), (59, -37), (59, 25), (57, 25), (57, -32), (-57, -32), (-57, 25), align=None)
    extrude(amount=-EXTRUDE_9_DEPTH)

    # 镜向20 copy 1 sketch → 镜向20 copy 1 (cut, symmetric)
    with BuildSketch(Plane.ZY.offset(-165)):
        with Locations((25, 10)):
            Circle(MIRROR_20_COPY_1_SKETCH_R)
        with Locations((45.6, 18.75)):
            Circle(MIRROR_20_COPY_1_SKETCH_R_2)
        with Locations((45.6, 1.25)):
            Circle(MIRROR_20_COPY_1_SKETCH_R_2)
    extrude(amount=MIRROR_20_COPY_1_DEPTH, both=True, mode=Mode.SUBTRACT)

    # 镜向20 copy 2 sketch → 镜向20 copy 2 (cut, symmetric)
    with BuildSketch(Plane(origin=(162, 0, 0), x_dir=(0, 0, 1), z_dir=(1, 0, 0))):
        with Locations((25, -10)):
            Circle(MIRROR_20_COPY_2_SKETCH_R)
        with Locations((45.6, -18.75)):
            Circle(MIRROR_20_COPY_2_SKETCH_R_2)
        with Locations((45.6, -1.25)):
            Circle(MIRROR_20_COPY_2_SKETCH_R_2)
    extrude(amount=MIRROR_20_COPY_2_DEPTH, both=True, mode=Mode.SUBTRACT)

    # 镜向20 copy 3 sketch → 镜向20 copy 3 (revolve, cut)
    with BuildSketch(Plane(origin=(59, 20, 11), x_dir=(0, 0, 1), z_dir=(0, 1, 0))):
        Polygon((0, 0), (0, -10.1), (1.65, -9.108579979), (1.65, 0), align=None)
    revolve(axis=Axis((65.35, 20, 11), (1, 0, 0)), mode=Mode.SUBTRACT)

    # 镜向20 copy 4 sketch → 镜向20 copy 4 (revolve, cut)
    with BuildSketch(Plane(origin=(59, 0, 11), x_dir=(0, 0, 1), z_dir=(0, 1, 0))):
        Polygon((0, 0), (0, -10.1), (1.65, -9.108579979), (1.65, 0), align=None)
    revolve(axis=Axis((65.35, 0, 11), (1, 0, 0)), mode=Mode.SUBTRACT)

    # 镜向20 copy 5 sketch → 镜向20 copy 5 (revolve, cut)
    with BuildSketch(Plane(origin=(59, 20, 61), x_dir=(0, 0, 1), z_dir=(0, 1, 0))):
        Polygon((0, 0), (0, -10.1), (1.65, -9.108579979), (1.65, 0), align=None)
    revolve(axis=Axis((65.35, 20, 61), (1, 0, 0)), mode=Mode.SUBTRACT)

    # 镜向20 copy 6 sketch → 镜向20 copy 6 (revolve, cut)
    with BuildSketch(Plane(origin=(59, 0, 61), x_dir=(0, 0, 1), z_dir=(0, 1, 0))):
        Polygon((0, 0), (0, -10.1), (1.65, -9.108579979), (1.65, 0), align=None)
    revolve(axis=Axis((65.35, 0, 61), (1, 0, 0)), mode=Mode.SUBTRACT)

    # 镜向20 copy 7 sketch → 镜向20 copy 7 (revolve, cut)
    with BuildSketch(Plane(origin=(133, 20, 11), x_dir=(0, 0, 1), z_dir=(0, 1, 0))):
        Polygon((0, 0), (0, 10.1), (1.65, 9.108579979), (1.65, 0), align=None)
    revolve(axis=Axis((126.65, 20, 11), (1, 0, 0)), mode=Mode.SUBTRACT)

    # 镜向20 copy 8 sketch → 镜向20 copy 8 (revolve, cut)
    with BuildSketch(Plane(origin=(133, 0, 11), x_dir=(0, 0, 1), z_dir=(0, 1, 0))):
        Polygon((0, 0), (0, 10.1), (1.65, 9.108579979), (1.65, 0), align=None)
    revolve(axis=Axis((126.65, 0, 11), (1, 0, 0)), mode=Mode.SUBTRACT)

    # 镜向20 copy 9 sketch → 镜向20 copy 9 (revolve, cut)
    with BuildSketch(Plane(origin=(133, 20, 61), x_dir=(0, 0, 1), z_dir=(0, 1, 0))):
        Polygon((0, 0), (0, 10.1), (1.65, 9.108579979), (1.65, 0), align=None)
    revolve(axis=Axis((126.65, 20, 61), (1, 0, 0)), mode=Mode.SUBTRACT)

    # 镜向20 copy 10 sketch → 镜向20 copy 10 (revolve, cut)
    with BuildSketch(Plane(origin=(133, 0, 61), x_dir=(0, 0, 1), z_dir=(0, 1, 0))):
        Polygon((0, 0), (0, 10.1), (1.65, 9.108579979), (1.65, 0), align=None)
    revolve(axis=Axis((126.65, 0, 61), (1, 0, 0)), mode=Mode.SUBTRACT)

    # 镜向20 copy 11 sketch → 镜向20 copy 11 (revolve, cut)
    with BuildSketch(Plane(origin=(86, 20, 11), x_dir=(0, 0, 1), z_dir=(0, 1, 0))):
        Polygon((0, 0), (0, -10.1), (1.65, -9.108579979), (1.65, 0), align=None)
    revolve(axis=Axis((92.35, 20, 11), (1, 0, 0)), mode=Mode.SUBTRACT)

    # 镜向20 copy 12 sketch → 镜向20 copy 12 (revolve, cut)
    with BuildSketch(Plane(origin=(86, 0, 11), x_dir=(0, 0, 1), z_dir=(0, 1, 0))):
        Polygon((0, 0), (0, -10.1), (1.65, -9.108579979), (1.65, 0), align=None)
    revolve(axis=Axis((92.35, 0, 11), (1, 0, 0)), mode=Mode.SUBTRACT)

    # 镜向20 copy 13 sketch → 镜向20 copy 13 (revolve, cut)
    with BuildSketch(Plane(origin=(86, 20, 61), x_dir=(0, 0, 1), z_dir=(0, 1, 0))):
        Polygon((0, 0), (0, -10.1), (1.65, -9.108579979), (1.65, 0), align=None)
    revolve(axis=Axis((92.35, 20, 61), (1, 0, 0)), mode=Mode.SUBTRACT)

    # 镜向20 copy 14 sketch → 镜向20 copy 14 (revolve, cut)
    with BuildSketch(Plane(origin=(86, 0, 61), x_dir=(0, 0, 1), z_dir=(0, 1, 0))):
        Polygon((0, 0), (0, -10.1), (1.65, -9.108579979), (1.65, 0), align=None)
    revolve(axis=Axis((92.35, 0, 61), (1, 0, 0)), mode=Mode.SUBTRACT)

    # 镜向22 copy 1 sketch → 镜向22 copy 1 (cut, symmetric)
    with BuildSketch(Plane(origin=(-165, 0, 0), x_dir=(0, 0, 1), z_dir=(1, 0, 0))):
        with Locations((25, -10)):
            Circle(MIRROR_22_COPY_1_SKETCH_R)
        with Locations((45.6, -18.75)):
            Circle(MIRROR_22_COPY_1_SKETCH_R_2)
        with Locations((45.6, -1.25)):
            Circle(MIRROR_22_COPY_1_SKETCH_R_2)
    extrude(amount=MIRROR_22_COPY_1_DEPTH, both=True, mode=Mode.SUBTRACT)

    # 镜向22 copy 2 sketch → 镜向22 copy 2 (cut, symmetric)
    with BuildSketch(Plane.ZY.offset(162)):
        with Locations((25, 10)):
            Circle(MIRROR_22_COPY_2_SKETCH_R)
        with Locations((45.6, 18.75)):
            Circle(MIRROR_22_COPY_2_SKETCH_R_2)
        with Locations((45.6, 1.25)):
            Circle(MIRROR_22_COPY_2_SKETCH_R_2)
    extrude(amount=MIRROR_22_COPY_2_DEPTH, both=True, mode=Mode.SUBTRACT)

    # 镜向22 copy 3 sketch → 镜向22 copy 3 (revolve, cut)
    with BuildSketch(Plane(origin=(-59, 20, 11), x_dir=(0, 0, 1), z_dir=(0, 1, 0))):
        Polygon((0, 0), (0, 10.1), (1.65, 9.108579979), (1.65, 0), align=None)
    revolve(axis=Axis((-65.35, 20, 11), (1, 0, 0)), mode=Mode.SUBTRACT)

    # 镜向22 copy 4 sketch → 镜向22 copy 4 (revolve, cut)
    with BuildSketch(Plane(origin=(-59, 0, 11), x_dir=(0, 0, 1), z_dir=(0, 1, 0))):
        Polygon((0, 0), (0, 10.1), (1.65, 9.108579979), (1.65, 0), align=None)
    revolve(axis=Axis((-65.35, 0, 11), (1, 0, 0)), mode=Mode.SUBTRACT)

    # 镜向22 copy 5 sketch → 镜向22 copy 5 (revolve, cut)
    with BuildSketch(Plane(origin=(-59, 20, 61), x_dir=(0, 0, 1), z_dir=(0, 1, 0))):
        Polygon((0, 0), (0, 10.1), (1.65, 9.108579979), (1.65, 0), align=None)
    revolve(axis=Axis((-65.35, 20, 61), (1, 0, 0)), mode=Mode.SUBTRACT)

    # 镜向22 copy 6 sketch → 镜向22 copy 6 (revolve, cut)
    with BuildSketch(Plane(origin=(-59, 0, 61), x_dir=(0, 0, 1), z_dir=(0, 1, 0))):
        Polygon((0, 0), (0, 10.1), (1.65, 9.108579979), (1.65, 0), align=None)
    revolve(axis=Axis((-65.35, 0, 61), (1, 0, 0)), mode=Mode.SUBTRACT)

    # 镜向22 copy 7 sketch → 镜向22 copy 7 (revolve, cut)
    with BuildSketch(Plane(origin=(-133, 20, 11), x_dir=(0, 0, 1), z_dir=(0, 1, 0))):
        Polygon((0, 0), (0, -10.1), (1.65, -9.108579979), (1.65, 0), align=None)
    revolve(axis=Axis((-126.65, 20, 11), (1, 0, 0)), mode=Mode.SUBTRACT)

    # 镜向22 copy 8 sketch → 镜向22 copy 8 (revolve, cut)
    with BuildSketch(Plane(origin=(-133, 0, 11), x_dir=(0, 0, 1), z_dir=(0, 1, 0))):
        Polygon((0, 0), (0, -10.1), (1.65, -9.108579979), (1.65, 0), align=None)
    revolve(axis=Axis((-126.65, 0, 11), (1, 0, 0)), mode=Mode.SUBTRACT)

    # 镜向22 copy 9 sketch → 镜向22 copy 9 (revolve, cut)
    with BuildSketch(Plane(origin=(-133, 20, 61), x_dir=(0, 0, 1), z_dir=(0, 1, 0))):
        Polygon((0, 0), (0, -10.1), (1.65, -9.108579979), (1.65, 0), align=None)
    revolve(axis=Axis((-126.65, 20, 61), (1, 0, 0)), mode=Mode.SUBTRACT)

    # 镜向22 copy 10 sketch → 镜向22 copy 10 (revolve, cut)
    with BuildSketch(Plane(origin=(-133, 0, 61), x_dir=(0, 0, 1), z_dir=(0, 1, 0))):
        Polygon((0, 0), (0, -10.1), (1.65, -9.108579979), (1.65, 0), align=None)
    revolve(axis=Axis((-126.65, 0, 61), (1, 0, 0)), mode=Mode.SUBTRACT)

    # 镜向22 copy 11 sketch → 镜向22 copy 11 (revolve, cut)
    with BuildSketch(Plane(origin=(-86, 20, 11), x_dir=(0, 0, 1), z_dir=(0, 1, 0))):
        Polygon((0, 0), (0, 10.1), (1.65, 9.108579979), (1.65, 0), align=None)
    revolve(axis=Axis((-92.35, 20, 11), (1, 0, 0)), mode=Mode.SUBTRACT)

    # 镜向22 copy 12 sketch → 镜向22 copy 12 (revolve, cut)
    with BuildSketch(Plane(origin=(-86, 0, 11), x_dir=(0, 0, 1), z_dir=(0, 1, 0))):
        Polygon((0, 0), (0, 10.1), (1.65, 9.108579979), (1.65, 0), align=None)
    revolve(axis=Axis((-92.35, 0, 11), (1, 0, 0)), mode=Mode.SUBTRACT)

    # 镜向22 copy 13 sketch → 镜向22 copy 13 (revolve, cut)
    with BuildSketch(Plane(origin=(-86, 20, 61), x_dir=(0, 0, 1), z_dir=(0, 1, 0))):
        Polygon((0, 0), (0, 10.1), (1.65, 9.108579979), (1.65, 0), align=None)
    revolve(axis=Axis((-92.35, 20, 61), (1, 0, 0)), mode=Mode.SUBTRACT)

    # 镜向22 copy 14 sketch → 镜向22 copy 14 (revolve, cut)
    with BuildSketch(Plane(origin=(-86, 0, 61), x_dir=(0, 0, 1), z_dir=(0, 1, 0))):
        Polygon((0, 0), (0, 10.1), (1.65, 9.108579979), (1.65, 0), align=None)
    revolve(axis=Axis((-92.35, 0, 61), (1, 0, 0)), mode=Mode.SUBTRACT)

    # 镜向22 copy 15 sketch → 镜向22 copy 15 (cut, symmetric)
    with BuildSketch(Plane(origin=(50, 0, 0), x_dir=(0, 0, 1), z_dir=(1, 0, 0))):
        with Locations((25, -10)):
            Circle(MIRROR_22_COPY_15_SKETCH_R)
        with Locations((45.6, -18.75)):
            Circle(MIRROR_22_COPY_15_SKETCH_R_2)
        with Locations((45.6, -1.25)):
            Circle(MIRROR_22_COPY_15_SKETCH_R_2)
    extrude(amount=MIRROR_22_COPY_15_DEPTH, both=True, mode=Mode.SUBTRACT)

    # 镜向22 copy 16 sketch → 镜向22 copy 16 (revolve, cut)
    with BuildSketch(Plane(origin=(-26, 20, 11), x_dir=(0, 0, 1), z_dir=(0, 1, 0))):
        Polygon((0, 0), (0, -10.1), (1.65, -9.108579979), (1.65, 0), align=None)
    revolve(axis=Axis((-19.65, 20, 11), (1, 0, 0)), mode=Mode.SUBTRACT)

    # 镜向22 copy 17 sketch → 镜向22 copy 17 (revolve, cut)
    with BuildSketch(Plane(origin=(-26, 0, 11), x_dir=(0, 0, 1), z_dir=(0, 1, 0))):
        Polygon((0, 0), (0, -10.1), (1.65, -9.108579979), (1.65, 0), align=None)
    revolve(axis=Axis((-19.65, 0, 11), (1, 0, 0)), mode=Mode.SUBTRACT)

    # 镜向22 copy 18 sketch → 镜向22 copy 18 (revolve, cut)
    with BuildSketch(Plane(origin=(-26, 20, 61), x_dir=(0, 0, 1), z_dir=(0, 1, 0))):
        Polygon((0, 0), (0, -10.1), (1.65, -9.108579979), (1.65, 0), align=None)
    revolve(axis=Axis((-19.65, 20, 61), (1, 0, 0)), mode=Mode.SUBTRACT)

    # 镜向22 copy 19 sketch → 镜向22 copy 19 (revolve, cut)
    with BuildSketch(Plane(origin=(-26, 0, 61), x_dir=(0, 0, 1), z_dir=(0, 1, 0))):
        Polygon((0, 0), (0, -10.1), (1.65, -9.108579979), (1.65, 0), align=None)
    revolve(axis=Axis((-19.65, 0, 61), (1, 0, 0)), mode=Mode.SUBTRACT)

    # 草图28 → 切除-拉伸9 (cut)
    with BuildSketch(Plane(origin=(0, 0, 5), x_dir=(-1, 0, 0), z_dir=(0, 0, -1))):
        with Locations((0, -2.170720885)):
            Rectangle(SKETCH_28_W, SKETCH_28_H)
    extrude(amount=-CUT_EXTRUDE_9_DEPTH, mode=Mode.SUBTRACT)

    # 草图29 → 凸台-拉伸10 (add)
    with BuildSketch(Plane.XY.offset(80)):
        with Locations((0, -6.078340322)):
            Rectangle(SKETCH_29_W, SKETCH_29_H)
    extrude(amount=EXTRUDE_10_DEPTH)

    # 草图30 → 切除-拉伸10 (cut, two sides: drawn at the far end of the back side and taken through both)
    with BuildSketch(Plane.ZY.offset(75).offset(-CUT_EXTRUDE_10_DEPTH_BACK)):
        Polygon((549.139391609, 241.00947846), (175, 25), (145, 7.679491924), (145, -37.156680644), (145, -469.175637564), (895.959346342, -896.518095898), (1300.098737952, -186.332979874), align=None)
    extrude(amount=CUT_EXTRUDE_10_DEPTH + CUT_EXTRUDE_10_DEPTH_BACK, mode=Mode.SUBTRACT)

    # 草图31 → 切除-拉伸11 (cut)
    with BuildSketch(Plane.ZY.offset(75).offset(CUT_EXTRUDE_START)):
        Polygon((83, 29.827532825), (177.361532128, 29.827532825), (142, 9.411542732), (142, -50.308719278), (83, -50.308719278), align=None)
    extrude(amount=-CUT_EXTRUDE_11_DEPTH, mode=Mode.SUBTRACT)

    # 草图32 → 切除-拉伸12 (cut, two sides: drawn at the far end of the back side and taken through both)
    with BuildSketch(Plane(origin=(28, 0, 0), x_dir=(0, 0, -1), z_dir=(1, 0, 0)).offset(-CUT_EXTRUDE_12_DEPTH_BACK)):
        Polygon((-80, -37.156680644), (-15, -100), (-94.548678903, -113.254821135), align=None)
    extrude(amount=CUT_EXTRUDE_12_DEPTH + CUT_EXTRUDE_12_DEPTH_BACK, mode=Mode.SUBTRACT)

    # 草图34 → 凸台-拉伸11 (add)
    with BuildSketch(Plane(origin=(59, 0, 0), x_dir=(0, 0, -1), z_dir=(1, 0, 0))):
        with Locations((-36.5, -2.55)):
            Rectangle(SKETCH_34_W, SKETCH_34_H)
    extrude(amount=EXTRUDE_11_DEPTH)

    # 草图34<3> → 凸台-拉伸12 (add)
    with BuildSketch(Plane(origin=(59, 0, 0), x_dir=(0, 0, -1), z_dir=(1, 0, 0)).offset(EXTRUDE_START_2)):
        with Locations((-36.5, -2.55)):
            Rectangle(SKETCH_34_3_W, SKETCH_34_3_H)
    extrude(amount=-EXTRUDE_12_DEPTH)

    # 草图35 → 凸台-拉伸13 (add)
    with BuildSketch(Plane(origin=(75, 0, 0), x_dir=(0, 0, -1), z_dir=(1, 0, 0))):
        with Locations(Location((-84, -33.156680644, 0), (0, 0, 270))):
            Circle(SKETCH_35_R)
    extrude(amount=EXTRUDE_13_DEPTH)

    # 草图36 → 凸台-拉伸14 (add)
    with BuildSketch(Plane.ZY.offset(75)):
        with Locations(Location((84, -33.156680644, 0), (0, 0, 270))):
            Circle(SKETCH_36_R)
    extrude(amount=EXTRUDE_14_DEPTH)


solid = cut_extrude_2_piece_1_1.part
